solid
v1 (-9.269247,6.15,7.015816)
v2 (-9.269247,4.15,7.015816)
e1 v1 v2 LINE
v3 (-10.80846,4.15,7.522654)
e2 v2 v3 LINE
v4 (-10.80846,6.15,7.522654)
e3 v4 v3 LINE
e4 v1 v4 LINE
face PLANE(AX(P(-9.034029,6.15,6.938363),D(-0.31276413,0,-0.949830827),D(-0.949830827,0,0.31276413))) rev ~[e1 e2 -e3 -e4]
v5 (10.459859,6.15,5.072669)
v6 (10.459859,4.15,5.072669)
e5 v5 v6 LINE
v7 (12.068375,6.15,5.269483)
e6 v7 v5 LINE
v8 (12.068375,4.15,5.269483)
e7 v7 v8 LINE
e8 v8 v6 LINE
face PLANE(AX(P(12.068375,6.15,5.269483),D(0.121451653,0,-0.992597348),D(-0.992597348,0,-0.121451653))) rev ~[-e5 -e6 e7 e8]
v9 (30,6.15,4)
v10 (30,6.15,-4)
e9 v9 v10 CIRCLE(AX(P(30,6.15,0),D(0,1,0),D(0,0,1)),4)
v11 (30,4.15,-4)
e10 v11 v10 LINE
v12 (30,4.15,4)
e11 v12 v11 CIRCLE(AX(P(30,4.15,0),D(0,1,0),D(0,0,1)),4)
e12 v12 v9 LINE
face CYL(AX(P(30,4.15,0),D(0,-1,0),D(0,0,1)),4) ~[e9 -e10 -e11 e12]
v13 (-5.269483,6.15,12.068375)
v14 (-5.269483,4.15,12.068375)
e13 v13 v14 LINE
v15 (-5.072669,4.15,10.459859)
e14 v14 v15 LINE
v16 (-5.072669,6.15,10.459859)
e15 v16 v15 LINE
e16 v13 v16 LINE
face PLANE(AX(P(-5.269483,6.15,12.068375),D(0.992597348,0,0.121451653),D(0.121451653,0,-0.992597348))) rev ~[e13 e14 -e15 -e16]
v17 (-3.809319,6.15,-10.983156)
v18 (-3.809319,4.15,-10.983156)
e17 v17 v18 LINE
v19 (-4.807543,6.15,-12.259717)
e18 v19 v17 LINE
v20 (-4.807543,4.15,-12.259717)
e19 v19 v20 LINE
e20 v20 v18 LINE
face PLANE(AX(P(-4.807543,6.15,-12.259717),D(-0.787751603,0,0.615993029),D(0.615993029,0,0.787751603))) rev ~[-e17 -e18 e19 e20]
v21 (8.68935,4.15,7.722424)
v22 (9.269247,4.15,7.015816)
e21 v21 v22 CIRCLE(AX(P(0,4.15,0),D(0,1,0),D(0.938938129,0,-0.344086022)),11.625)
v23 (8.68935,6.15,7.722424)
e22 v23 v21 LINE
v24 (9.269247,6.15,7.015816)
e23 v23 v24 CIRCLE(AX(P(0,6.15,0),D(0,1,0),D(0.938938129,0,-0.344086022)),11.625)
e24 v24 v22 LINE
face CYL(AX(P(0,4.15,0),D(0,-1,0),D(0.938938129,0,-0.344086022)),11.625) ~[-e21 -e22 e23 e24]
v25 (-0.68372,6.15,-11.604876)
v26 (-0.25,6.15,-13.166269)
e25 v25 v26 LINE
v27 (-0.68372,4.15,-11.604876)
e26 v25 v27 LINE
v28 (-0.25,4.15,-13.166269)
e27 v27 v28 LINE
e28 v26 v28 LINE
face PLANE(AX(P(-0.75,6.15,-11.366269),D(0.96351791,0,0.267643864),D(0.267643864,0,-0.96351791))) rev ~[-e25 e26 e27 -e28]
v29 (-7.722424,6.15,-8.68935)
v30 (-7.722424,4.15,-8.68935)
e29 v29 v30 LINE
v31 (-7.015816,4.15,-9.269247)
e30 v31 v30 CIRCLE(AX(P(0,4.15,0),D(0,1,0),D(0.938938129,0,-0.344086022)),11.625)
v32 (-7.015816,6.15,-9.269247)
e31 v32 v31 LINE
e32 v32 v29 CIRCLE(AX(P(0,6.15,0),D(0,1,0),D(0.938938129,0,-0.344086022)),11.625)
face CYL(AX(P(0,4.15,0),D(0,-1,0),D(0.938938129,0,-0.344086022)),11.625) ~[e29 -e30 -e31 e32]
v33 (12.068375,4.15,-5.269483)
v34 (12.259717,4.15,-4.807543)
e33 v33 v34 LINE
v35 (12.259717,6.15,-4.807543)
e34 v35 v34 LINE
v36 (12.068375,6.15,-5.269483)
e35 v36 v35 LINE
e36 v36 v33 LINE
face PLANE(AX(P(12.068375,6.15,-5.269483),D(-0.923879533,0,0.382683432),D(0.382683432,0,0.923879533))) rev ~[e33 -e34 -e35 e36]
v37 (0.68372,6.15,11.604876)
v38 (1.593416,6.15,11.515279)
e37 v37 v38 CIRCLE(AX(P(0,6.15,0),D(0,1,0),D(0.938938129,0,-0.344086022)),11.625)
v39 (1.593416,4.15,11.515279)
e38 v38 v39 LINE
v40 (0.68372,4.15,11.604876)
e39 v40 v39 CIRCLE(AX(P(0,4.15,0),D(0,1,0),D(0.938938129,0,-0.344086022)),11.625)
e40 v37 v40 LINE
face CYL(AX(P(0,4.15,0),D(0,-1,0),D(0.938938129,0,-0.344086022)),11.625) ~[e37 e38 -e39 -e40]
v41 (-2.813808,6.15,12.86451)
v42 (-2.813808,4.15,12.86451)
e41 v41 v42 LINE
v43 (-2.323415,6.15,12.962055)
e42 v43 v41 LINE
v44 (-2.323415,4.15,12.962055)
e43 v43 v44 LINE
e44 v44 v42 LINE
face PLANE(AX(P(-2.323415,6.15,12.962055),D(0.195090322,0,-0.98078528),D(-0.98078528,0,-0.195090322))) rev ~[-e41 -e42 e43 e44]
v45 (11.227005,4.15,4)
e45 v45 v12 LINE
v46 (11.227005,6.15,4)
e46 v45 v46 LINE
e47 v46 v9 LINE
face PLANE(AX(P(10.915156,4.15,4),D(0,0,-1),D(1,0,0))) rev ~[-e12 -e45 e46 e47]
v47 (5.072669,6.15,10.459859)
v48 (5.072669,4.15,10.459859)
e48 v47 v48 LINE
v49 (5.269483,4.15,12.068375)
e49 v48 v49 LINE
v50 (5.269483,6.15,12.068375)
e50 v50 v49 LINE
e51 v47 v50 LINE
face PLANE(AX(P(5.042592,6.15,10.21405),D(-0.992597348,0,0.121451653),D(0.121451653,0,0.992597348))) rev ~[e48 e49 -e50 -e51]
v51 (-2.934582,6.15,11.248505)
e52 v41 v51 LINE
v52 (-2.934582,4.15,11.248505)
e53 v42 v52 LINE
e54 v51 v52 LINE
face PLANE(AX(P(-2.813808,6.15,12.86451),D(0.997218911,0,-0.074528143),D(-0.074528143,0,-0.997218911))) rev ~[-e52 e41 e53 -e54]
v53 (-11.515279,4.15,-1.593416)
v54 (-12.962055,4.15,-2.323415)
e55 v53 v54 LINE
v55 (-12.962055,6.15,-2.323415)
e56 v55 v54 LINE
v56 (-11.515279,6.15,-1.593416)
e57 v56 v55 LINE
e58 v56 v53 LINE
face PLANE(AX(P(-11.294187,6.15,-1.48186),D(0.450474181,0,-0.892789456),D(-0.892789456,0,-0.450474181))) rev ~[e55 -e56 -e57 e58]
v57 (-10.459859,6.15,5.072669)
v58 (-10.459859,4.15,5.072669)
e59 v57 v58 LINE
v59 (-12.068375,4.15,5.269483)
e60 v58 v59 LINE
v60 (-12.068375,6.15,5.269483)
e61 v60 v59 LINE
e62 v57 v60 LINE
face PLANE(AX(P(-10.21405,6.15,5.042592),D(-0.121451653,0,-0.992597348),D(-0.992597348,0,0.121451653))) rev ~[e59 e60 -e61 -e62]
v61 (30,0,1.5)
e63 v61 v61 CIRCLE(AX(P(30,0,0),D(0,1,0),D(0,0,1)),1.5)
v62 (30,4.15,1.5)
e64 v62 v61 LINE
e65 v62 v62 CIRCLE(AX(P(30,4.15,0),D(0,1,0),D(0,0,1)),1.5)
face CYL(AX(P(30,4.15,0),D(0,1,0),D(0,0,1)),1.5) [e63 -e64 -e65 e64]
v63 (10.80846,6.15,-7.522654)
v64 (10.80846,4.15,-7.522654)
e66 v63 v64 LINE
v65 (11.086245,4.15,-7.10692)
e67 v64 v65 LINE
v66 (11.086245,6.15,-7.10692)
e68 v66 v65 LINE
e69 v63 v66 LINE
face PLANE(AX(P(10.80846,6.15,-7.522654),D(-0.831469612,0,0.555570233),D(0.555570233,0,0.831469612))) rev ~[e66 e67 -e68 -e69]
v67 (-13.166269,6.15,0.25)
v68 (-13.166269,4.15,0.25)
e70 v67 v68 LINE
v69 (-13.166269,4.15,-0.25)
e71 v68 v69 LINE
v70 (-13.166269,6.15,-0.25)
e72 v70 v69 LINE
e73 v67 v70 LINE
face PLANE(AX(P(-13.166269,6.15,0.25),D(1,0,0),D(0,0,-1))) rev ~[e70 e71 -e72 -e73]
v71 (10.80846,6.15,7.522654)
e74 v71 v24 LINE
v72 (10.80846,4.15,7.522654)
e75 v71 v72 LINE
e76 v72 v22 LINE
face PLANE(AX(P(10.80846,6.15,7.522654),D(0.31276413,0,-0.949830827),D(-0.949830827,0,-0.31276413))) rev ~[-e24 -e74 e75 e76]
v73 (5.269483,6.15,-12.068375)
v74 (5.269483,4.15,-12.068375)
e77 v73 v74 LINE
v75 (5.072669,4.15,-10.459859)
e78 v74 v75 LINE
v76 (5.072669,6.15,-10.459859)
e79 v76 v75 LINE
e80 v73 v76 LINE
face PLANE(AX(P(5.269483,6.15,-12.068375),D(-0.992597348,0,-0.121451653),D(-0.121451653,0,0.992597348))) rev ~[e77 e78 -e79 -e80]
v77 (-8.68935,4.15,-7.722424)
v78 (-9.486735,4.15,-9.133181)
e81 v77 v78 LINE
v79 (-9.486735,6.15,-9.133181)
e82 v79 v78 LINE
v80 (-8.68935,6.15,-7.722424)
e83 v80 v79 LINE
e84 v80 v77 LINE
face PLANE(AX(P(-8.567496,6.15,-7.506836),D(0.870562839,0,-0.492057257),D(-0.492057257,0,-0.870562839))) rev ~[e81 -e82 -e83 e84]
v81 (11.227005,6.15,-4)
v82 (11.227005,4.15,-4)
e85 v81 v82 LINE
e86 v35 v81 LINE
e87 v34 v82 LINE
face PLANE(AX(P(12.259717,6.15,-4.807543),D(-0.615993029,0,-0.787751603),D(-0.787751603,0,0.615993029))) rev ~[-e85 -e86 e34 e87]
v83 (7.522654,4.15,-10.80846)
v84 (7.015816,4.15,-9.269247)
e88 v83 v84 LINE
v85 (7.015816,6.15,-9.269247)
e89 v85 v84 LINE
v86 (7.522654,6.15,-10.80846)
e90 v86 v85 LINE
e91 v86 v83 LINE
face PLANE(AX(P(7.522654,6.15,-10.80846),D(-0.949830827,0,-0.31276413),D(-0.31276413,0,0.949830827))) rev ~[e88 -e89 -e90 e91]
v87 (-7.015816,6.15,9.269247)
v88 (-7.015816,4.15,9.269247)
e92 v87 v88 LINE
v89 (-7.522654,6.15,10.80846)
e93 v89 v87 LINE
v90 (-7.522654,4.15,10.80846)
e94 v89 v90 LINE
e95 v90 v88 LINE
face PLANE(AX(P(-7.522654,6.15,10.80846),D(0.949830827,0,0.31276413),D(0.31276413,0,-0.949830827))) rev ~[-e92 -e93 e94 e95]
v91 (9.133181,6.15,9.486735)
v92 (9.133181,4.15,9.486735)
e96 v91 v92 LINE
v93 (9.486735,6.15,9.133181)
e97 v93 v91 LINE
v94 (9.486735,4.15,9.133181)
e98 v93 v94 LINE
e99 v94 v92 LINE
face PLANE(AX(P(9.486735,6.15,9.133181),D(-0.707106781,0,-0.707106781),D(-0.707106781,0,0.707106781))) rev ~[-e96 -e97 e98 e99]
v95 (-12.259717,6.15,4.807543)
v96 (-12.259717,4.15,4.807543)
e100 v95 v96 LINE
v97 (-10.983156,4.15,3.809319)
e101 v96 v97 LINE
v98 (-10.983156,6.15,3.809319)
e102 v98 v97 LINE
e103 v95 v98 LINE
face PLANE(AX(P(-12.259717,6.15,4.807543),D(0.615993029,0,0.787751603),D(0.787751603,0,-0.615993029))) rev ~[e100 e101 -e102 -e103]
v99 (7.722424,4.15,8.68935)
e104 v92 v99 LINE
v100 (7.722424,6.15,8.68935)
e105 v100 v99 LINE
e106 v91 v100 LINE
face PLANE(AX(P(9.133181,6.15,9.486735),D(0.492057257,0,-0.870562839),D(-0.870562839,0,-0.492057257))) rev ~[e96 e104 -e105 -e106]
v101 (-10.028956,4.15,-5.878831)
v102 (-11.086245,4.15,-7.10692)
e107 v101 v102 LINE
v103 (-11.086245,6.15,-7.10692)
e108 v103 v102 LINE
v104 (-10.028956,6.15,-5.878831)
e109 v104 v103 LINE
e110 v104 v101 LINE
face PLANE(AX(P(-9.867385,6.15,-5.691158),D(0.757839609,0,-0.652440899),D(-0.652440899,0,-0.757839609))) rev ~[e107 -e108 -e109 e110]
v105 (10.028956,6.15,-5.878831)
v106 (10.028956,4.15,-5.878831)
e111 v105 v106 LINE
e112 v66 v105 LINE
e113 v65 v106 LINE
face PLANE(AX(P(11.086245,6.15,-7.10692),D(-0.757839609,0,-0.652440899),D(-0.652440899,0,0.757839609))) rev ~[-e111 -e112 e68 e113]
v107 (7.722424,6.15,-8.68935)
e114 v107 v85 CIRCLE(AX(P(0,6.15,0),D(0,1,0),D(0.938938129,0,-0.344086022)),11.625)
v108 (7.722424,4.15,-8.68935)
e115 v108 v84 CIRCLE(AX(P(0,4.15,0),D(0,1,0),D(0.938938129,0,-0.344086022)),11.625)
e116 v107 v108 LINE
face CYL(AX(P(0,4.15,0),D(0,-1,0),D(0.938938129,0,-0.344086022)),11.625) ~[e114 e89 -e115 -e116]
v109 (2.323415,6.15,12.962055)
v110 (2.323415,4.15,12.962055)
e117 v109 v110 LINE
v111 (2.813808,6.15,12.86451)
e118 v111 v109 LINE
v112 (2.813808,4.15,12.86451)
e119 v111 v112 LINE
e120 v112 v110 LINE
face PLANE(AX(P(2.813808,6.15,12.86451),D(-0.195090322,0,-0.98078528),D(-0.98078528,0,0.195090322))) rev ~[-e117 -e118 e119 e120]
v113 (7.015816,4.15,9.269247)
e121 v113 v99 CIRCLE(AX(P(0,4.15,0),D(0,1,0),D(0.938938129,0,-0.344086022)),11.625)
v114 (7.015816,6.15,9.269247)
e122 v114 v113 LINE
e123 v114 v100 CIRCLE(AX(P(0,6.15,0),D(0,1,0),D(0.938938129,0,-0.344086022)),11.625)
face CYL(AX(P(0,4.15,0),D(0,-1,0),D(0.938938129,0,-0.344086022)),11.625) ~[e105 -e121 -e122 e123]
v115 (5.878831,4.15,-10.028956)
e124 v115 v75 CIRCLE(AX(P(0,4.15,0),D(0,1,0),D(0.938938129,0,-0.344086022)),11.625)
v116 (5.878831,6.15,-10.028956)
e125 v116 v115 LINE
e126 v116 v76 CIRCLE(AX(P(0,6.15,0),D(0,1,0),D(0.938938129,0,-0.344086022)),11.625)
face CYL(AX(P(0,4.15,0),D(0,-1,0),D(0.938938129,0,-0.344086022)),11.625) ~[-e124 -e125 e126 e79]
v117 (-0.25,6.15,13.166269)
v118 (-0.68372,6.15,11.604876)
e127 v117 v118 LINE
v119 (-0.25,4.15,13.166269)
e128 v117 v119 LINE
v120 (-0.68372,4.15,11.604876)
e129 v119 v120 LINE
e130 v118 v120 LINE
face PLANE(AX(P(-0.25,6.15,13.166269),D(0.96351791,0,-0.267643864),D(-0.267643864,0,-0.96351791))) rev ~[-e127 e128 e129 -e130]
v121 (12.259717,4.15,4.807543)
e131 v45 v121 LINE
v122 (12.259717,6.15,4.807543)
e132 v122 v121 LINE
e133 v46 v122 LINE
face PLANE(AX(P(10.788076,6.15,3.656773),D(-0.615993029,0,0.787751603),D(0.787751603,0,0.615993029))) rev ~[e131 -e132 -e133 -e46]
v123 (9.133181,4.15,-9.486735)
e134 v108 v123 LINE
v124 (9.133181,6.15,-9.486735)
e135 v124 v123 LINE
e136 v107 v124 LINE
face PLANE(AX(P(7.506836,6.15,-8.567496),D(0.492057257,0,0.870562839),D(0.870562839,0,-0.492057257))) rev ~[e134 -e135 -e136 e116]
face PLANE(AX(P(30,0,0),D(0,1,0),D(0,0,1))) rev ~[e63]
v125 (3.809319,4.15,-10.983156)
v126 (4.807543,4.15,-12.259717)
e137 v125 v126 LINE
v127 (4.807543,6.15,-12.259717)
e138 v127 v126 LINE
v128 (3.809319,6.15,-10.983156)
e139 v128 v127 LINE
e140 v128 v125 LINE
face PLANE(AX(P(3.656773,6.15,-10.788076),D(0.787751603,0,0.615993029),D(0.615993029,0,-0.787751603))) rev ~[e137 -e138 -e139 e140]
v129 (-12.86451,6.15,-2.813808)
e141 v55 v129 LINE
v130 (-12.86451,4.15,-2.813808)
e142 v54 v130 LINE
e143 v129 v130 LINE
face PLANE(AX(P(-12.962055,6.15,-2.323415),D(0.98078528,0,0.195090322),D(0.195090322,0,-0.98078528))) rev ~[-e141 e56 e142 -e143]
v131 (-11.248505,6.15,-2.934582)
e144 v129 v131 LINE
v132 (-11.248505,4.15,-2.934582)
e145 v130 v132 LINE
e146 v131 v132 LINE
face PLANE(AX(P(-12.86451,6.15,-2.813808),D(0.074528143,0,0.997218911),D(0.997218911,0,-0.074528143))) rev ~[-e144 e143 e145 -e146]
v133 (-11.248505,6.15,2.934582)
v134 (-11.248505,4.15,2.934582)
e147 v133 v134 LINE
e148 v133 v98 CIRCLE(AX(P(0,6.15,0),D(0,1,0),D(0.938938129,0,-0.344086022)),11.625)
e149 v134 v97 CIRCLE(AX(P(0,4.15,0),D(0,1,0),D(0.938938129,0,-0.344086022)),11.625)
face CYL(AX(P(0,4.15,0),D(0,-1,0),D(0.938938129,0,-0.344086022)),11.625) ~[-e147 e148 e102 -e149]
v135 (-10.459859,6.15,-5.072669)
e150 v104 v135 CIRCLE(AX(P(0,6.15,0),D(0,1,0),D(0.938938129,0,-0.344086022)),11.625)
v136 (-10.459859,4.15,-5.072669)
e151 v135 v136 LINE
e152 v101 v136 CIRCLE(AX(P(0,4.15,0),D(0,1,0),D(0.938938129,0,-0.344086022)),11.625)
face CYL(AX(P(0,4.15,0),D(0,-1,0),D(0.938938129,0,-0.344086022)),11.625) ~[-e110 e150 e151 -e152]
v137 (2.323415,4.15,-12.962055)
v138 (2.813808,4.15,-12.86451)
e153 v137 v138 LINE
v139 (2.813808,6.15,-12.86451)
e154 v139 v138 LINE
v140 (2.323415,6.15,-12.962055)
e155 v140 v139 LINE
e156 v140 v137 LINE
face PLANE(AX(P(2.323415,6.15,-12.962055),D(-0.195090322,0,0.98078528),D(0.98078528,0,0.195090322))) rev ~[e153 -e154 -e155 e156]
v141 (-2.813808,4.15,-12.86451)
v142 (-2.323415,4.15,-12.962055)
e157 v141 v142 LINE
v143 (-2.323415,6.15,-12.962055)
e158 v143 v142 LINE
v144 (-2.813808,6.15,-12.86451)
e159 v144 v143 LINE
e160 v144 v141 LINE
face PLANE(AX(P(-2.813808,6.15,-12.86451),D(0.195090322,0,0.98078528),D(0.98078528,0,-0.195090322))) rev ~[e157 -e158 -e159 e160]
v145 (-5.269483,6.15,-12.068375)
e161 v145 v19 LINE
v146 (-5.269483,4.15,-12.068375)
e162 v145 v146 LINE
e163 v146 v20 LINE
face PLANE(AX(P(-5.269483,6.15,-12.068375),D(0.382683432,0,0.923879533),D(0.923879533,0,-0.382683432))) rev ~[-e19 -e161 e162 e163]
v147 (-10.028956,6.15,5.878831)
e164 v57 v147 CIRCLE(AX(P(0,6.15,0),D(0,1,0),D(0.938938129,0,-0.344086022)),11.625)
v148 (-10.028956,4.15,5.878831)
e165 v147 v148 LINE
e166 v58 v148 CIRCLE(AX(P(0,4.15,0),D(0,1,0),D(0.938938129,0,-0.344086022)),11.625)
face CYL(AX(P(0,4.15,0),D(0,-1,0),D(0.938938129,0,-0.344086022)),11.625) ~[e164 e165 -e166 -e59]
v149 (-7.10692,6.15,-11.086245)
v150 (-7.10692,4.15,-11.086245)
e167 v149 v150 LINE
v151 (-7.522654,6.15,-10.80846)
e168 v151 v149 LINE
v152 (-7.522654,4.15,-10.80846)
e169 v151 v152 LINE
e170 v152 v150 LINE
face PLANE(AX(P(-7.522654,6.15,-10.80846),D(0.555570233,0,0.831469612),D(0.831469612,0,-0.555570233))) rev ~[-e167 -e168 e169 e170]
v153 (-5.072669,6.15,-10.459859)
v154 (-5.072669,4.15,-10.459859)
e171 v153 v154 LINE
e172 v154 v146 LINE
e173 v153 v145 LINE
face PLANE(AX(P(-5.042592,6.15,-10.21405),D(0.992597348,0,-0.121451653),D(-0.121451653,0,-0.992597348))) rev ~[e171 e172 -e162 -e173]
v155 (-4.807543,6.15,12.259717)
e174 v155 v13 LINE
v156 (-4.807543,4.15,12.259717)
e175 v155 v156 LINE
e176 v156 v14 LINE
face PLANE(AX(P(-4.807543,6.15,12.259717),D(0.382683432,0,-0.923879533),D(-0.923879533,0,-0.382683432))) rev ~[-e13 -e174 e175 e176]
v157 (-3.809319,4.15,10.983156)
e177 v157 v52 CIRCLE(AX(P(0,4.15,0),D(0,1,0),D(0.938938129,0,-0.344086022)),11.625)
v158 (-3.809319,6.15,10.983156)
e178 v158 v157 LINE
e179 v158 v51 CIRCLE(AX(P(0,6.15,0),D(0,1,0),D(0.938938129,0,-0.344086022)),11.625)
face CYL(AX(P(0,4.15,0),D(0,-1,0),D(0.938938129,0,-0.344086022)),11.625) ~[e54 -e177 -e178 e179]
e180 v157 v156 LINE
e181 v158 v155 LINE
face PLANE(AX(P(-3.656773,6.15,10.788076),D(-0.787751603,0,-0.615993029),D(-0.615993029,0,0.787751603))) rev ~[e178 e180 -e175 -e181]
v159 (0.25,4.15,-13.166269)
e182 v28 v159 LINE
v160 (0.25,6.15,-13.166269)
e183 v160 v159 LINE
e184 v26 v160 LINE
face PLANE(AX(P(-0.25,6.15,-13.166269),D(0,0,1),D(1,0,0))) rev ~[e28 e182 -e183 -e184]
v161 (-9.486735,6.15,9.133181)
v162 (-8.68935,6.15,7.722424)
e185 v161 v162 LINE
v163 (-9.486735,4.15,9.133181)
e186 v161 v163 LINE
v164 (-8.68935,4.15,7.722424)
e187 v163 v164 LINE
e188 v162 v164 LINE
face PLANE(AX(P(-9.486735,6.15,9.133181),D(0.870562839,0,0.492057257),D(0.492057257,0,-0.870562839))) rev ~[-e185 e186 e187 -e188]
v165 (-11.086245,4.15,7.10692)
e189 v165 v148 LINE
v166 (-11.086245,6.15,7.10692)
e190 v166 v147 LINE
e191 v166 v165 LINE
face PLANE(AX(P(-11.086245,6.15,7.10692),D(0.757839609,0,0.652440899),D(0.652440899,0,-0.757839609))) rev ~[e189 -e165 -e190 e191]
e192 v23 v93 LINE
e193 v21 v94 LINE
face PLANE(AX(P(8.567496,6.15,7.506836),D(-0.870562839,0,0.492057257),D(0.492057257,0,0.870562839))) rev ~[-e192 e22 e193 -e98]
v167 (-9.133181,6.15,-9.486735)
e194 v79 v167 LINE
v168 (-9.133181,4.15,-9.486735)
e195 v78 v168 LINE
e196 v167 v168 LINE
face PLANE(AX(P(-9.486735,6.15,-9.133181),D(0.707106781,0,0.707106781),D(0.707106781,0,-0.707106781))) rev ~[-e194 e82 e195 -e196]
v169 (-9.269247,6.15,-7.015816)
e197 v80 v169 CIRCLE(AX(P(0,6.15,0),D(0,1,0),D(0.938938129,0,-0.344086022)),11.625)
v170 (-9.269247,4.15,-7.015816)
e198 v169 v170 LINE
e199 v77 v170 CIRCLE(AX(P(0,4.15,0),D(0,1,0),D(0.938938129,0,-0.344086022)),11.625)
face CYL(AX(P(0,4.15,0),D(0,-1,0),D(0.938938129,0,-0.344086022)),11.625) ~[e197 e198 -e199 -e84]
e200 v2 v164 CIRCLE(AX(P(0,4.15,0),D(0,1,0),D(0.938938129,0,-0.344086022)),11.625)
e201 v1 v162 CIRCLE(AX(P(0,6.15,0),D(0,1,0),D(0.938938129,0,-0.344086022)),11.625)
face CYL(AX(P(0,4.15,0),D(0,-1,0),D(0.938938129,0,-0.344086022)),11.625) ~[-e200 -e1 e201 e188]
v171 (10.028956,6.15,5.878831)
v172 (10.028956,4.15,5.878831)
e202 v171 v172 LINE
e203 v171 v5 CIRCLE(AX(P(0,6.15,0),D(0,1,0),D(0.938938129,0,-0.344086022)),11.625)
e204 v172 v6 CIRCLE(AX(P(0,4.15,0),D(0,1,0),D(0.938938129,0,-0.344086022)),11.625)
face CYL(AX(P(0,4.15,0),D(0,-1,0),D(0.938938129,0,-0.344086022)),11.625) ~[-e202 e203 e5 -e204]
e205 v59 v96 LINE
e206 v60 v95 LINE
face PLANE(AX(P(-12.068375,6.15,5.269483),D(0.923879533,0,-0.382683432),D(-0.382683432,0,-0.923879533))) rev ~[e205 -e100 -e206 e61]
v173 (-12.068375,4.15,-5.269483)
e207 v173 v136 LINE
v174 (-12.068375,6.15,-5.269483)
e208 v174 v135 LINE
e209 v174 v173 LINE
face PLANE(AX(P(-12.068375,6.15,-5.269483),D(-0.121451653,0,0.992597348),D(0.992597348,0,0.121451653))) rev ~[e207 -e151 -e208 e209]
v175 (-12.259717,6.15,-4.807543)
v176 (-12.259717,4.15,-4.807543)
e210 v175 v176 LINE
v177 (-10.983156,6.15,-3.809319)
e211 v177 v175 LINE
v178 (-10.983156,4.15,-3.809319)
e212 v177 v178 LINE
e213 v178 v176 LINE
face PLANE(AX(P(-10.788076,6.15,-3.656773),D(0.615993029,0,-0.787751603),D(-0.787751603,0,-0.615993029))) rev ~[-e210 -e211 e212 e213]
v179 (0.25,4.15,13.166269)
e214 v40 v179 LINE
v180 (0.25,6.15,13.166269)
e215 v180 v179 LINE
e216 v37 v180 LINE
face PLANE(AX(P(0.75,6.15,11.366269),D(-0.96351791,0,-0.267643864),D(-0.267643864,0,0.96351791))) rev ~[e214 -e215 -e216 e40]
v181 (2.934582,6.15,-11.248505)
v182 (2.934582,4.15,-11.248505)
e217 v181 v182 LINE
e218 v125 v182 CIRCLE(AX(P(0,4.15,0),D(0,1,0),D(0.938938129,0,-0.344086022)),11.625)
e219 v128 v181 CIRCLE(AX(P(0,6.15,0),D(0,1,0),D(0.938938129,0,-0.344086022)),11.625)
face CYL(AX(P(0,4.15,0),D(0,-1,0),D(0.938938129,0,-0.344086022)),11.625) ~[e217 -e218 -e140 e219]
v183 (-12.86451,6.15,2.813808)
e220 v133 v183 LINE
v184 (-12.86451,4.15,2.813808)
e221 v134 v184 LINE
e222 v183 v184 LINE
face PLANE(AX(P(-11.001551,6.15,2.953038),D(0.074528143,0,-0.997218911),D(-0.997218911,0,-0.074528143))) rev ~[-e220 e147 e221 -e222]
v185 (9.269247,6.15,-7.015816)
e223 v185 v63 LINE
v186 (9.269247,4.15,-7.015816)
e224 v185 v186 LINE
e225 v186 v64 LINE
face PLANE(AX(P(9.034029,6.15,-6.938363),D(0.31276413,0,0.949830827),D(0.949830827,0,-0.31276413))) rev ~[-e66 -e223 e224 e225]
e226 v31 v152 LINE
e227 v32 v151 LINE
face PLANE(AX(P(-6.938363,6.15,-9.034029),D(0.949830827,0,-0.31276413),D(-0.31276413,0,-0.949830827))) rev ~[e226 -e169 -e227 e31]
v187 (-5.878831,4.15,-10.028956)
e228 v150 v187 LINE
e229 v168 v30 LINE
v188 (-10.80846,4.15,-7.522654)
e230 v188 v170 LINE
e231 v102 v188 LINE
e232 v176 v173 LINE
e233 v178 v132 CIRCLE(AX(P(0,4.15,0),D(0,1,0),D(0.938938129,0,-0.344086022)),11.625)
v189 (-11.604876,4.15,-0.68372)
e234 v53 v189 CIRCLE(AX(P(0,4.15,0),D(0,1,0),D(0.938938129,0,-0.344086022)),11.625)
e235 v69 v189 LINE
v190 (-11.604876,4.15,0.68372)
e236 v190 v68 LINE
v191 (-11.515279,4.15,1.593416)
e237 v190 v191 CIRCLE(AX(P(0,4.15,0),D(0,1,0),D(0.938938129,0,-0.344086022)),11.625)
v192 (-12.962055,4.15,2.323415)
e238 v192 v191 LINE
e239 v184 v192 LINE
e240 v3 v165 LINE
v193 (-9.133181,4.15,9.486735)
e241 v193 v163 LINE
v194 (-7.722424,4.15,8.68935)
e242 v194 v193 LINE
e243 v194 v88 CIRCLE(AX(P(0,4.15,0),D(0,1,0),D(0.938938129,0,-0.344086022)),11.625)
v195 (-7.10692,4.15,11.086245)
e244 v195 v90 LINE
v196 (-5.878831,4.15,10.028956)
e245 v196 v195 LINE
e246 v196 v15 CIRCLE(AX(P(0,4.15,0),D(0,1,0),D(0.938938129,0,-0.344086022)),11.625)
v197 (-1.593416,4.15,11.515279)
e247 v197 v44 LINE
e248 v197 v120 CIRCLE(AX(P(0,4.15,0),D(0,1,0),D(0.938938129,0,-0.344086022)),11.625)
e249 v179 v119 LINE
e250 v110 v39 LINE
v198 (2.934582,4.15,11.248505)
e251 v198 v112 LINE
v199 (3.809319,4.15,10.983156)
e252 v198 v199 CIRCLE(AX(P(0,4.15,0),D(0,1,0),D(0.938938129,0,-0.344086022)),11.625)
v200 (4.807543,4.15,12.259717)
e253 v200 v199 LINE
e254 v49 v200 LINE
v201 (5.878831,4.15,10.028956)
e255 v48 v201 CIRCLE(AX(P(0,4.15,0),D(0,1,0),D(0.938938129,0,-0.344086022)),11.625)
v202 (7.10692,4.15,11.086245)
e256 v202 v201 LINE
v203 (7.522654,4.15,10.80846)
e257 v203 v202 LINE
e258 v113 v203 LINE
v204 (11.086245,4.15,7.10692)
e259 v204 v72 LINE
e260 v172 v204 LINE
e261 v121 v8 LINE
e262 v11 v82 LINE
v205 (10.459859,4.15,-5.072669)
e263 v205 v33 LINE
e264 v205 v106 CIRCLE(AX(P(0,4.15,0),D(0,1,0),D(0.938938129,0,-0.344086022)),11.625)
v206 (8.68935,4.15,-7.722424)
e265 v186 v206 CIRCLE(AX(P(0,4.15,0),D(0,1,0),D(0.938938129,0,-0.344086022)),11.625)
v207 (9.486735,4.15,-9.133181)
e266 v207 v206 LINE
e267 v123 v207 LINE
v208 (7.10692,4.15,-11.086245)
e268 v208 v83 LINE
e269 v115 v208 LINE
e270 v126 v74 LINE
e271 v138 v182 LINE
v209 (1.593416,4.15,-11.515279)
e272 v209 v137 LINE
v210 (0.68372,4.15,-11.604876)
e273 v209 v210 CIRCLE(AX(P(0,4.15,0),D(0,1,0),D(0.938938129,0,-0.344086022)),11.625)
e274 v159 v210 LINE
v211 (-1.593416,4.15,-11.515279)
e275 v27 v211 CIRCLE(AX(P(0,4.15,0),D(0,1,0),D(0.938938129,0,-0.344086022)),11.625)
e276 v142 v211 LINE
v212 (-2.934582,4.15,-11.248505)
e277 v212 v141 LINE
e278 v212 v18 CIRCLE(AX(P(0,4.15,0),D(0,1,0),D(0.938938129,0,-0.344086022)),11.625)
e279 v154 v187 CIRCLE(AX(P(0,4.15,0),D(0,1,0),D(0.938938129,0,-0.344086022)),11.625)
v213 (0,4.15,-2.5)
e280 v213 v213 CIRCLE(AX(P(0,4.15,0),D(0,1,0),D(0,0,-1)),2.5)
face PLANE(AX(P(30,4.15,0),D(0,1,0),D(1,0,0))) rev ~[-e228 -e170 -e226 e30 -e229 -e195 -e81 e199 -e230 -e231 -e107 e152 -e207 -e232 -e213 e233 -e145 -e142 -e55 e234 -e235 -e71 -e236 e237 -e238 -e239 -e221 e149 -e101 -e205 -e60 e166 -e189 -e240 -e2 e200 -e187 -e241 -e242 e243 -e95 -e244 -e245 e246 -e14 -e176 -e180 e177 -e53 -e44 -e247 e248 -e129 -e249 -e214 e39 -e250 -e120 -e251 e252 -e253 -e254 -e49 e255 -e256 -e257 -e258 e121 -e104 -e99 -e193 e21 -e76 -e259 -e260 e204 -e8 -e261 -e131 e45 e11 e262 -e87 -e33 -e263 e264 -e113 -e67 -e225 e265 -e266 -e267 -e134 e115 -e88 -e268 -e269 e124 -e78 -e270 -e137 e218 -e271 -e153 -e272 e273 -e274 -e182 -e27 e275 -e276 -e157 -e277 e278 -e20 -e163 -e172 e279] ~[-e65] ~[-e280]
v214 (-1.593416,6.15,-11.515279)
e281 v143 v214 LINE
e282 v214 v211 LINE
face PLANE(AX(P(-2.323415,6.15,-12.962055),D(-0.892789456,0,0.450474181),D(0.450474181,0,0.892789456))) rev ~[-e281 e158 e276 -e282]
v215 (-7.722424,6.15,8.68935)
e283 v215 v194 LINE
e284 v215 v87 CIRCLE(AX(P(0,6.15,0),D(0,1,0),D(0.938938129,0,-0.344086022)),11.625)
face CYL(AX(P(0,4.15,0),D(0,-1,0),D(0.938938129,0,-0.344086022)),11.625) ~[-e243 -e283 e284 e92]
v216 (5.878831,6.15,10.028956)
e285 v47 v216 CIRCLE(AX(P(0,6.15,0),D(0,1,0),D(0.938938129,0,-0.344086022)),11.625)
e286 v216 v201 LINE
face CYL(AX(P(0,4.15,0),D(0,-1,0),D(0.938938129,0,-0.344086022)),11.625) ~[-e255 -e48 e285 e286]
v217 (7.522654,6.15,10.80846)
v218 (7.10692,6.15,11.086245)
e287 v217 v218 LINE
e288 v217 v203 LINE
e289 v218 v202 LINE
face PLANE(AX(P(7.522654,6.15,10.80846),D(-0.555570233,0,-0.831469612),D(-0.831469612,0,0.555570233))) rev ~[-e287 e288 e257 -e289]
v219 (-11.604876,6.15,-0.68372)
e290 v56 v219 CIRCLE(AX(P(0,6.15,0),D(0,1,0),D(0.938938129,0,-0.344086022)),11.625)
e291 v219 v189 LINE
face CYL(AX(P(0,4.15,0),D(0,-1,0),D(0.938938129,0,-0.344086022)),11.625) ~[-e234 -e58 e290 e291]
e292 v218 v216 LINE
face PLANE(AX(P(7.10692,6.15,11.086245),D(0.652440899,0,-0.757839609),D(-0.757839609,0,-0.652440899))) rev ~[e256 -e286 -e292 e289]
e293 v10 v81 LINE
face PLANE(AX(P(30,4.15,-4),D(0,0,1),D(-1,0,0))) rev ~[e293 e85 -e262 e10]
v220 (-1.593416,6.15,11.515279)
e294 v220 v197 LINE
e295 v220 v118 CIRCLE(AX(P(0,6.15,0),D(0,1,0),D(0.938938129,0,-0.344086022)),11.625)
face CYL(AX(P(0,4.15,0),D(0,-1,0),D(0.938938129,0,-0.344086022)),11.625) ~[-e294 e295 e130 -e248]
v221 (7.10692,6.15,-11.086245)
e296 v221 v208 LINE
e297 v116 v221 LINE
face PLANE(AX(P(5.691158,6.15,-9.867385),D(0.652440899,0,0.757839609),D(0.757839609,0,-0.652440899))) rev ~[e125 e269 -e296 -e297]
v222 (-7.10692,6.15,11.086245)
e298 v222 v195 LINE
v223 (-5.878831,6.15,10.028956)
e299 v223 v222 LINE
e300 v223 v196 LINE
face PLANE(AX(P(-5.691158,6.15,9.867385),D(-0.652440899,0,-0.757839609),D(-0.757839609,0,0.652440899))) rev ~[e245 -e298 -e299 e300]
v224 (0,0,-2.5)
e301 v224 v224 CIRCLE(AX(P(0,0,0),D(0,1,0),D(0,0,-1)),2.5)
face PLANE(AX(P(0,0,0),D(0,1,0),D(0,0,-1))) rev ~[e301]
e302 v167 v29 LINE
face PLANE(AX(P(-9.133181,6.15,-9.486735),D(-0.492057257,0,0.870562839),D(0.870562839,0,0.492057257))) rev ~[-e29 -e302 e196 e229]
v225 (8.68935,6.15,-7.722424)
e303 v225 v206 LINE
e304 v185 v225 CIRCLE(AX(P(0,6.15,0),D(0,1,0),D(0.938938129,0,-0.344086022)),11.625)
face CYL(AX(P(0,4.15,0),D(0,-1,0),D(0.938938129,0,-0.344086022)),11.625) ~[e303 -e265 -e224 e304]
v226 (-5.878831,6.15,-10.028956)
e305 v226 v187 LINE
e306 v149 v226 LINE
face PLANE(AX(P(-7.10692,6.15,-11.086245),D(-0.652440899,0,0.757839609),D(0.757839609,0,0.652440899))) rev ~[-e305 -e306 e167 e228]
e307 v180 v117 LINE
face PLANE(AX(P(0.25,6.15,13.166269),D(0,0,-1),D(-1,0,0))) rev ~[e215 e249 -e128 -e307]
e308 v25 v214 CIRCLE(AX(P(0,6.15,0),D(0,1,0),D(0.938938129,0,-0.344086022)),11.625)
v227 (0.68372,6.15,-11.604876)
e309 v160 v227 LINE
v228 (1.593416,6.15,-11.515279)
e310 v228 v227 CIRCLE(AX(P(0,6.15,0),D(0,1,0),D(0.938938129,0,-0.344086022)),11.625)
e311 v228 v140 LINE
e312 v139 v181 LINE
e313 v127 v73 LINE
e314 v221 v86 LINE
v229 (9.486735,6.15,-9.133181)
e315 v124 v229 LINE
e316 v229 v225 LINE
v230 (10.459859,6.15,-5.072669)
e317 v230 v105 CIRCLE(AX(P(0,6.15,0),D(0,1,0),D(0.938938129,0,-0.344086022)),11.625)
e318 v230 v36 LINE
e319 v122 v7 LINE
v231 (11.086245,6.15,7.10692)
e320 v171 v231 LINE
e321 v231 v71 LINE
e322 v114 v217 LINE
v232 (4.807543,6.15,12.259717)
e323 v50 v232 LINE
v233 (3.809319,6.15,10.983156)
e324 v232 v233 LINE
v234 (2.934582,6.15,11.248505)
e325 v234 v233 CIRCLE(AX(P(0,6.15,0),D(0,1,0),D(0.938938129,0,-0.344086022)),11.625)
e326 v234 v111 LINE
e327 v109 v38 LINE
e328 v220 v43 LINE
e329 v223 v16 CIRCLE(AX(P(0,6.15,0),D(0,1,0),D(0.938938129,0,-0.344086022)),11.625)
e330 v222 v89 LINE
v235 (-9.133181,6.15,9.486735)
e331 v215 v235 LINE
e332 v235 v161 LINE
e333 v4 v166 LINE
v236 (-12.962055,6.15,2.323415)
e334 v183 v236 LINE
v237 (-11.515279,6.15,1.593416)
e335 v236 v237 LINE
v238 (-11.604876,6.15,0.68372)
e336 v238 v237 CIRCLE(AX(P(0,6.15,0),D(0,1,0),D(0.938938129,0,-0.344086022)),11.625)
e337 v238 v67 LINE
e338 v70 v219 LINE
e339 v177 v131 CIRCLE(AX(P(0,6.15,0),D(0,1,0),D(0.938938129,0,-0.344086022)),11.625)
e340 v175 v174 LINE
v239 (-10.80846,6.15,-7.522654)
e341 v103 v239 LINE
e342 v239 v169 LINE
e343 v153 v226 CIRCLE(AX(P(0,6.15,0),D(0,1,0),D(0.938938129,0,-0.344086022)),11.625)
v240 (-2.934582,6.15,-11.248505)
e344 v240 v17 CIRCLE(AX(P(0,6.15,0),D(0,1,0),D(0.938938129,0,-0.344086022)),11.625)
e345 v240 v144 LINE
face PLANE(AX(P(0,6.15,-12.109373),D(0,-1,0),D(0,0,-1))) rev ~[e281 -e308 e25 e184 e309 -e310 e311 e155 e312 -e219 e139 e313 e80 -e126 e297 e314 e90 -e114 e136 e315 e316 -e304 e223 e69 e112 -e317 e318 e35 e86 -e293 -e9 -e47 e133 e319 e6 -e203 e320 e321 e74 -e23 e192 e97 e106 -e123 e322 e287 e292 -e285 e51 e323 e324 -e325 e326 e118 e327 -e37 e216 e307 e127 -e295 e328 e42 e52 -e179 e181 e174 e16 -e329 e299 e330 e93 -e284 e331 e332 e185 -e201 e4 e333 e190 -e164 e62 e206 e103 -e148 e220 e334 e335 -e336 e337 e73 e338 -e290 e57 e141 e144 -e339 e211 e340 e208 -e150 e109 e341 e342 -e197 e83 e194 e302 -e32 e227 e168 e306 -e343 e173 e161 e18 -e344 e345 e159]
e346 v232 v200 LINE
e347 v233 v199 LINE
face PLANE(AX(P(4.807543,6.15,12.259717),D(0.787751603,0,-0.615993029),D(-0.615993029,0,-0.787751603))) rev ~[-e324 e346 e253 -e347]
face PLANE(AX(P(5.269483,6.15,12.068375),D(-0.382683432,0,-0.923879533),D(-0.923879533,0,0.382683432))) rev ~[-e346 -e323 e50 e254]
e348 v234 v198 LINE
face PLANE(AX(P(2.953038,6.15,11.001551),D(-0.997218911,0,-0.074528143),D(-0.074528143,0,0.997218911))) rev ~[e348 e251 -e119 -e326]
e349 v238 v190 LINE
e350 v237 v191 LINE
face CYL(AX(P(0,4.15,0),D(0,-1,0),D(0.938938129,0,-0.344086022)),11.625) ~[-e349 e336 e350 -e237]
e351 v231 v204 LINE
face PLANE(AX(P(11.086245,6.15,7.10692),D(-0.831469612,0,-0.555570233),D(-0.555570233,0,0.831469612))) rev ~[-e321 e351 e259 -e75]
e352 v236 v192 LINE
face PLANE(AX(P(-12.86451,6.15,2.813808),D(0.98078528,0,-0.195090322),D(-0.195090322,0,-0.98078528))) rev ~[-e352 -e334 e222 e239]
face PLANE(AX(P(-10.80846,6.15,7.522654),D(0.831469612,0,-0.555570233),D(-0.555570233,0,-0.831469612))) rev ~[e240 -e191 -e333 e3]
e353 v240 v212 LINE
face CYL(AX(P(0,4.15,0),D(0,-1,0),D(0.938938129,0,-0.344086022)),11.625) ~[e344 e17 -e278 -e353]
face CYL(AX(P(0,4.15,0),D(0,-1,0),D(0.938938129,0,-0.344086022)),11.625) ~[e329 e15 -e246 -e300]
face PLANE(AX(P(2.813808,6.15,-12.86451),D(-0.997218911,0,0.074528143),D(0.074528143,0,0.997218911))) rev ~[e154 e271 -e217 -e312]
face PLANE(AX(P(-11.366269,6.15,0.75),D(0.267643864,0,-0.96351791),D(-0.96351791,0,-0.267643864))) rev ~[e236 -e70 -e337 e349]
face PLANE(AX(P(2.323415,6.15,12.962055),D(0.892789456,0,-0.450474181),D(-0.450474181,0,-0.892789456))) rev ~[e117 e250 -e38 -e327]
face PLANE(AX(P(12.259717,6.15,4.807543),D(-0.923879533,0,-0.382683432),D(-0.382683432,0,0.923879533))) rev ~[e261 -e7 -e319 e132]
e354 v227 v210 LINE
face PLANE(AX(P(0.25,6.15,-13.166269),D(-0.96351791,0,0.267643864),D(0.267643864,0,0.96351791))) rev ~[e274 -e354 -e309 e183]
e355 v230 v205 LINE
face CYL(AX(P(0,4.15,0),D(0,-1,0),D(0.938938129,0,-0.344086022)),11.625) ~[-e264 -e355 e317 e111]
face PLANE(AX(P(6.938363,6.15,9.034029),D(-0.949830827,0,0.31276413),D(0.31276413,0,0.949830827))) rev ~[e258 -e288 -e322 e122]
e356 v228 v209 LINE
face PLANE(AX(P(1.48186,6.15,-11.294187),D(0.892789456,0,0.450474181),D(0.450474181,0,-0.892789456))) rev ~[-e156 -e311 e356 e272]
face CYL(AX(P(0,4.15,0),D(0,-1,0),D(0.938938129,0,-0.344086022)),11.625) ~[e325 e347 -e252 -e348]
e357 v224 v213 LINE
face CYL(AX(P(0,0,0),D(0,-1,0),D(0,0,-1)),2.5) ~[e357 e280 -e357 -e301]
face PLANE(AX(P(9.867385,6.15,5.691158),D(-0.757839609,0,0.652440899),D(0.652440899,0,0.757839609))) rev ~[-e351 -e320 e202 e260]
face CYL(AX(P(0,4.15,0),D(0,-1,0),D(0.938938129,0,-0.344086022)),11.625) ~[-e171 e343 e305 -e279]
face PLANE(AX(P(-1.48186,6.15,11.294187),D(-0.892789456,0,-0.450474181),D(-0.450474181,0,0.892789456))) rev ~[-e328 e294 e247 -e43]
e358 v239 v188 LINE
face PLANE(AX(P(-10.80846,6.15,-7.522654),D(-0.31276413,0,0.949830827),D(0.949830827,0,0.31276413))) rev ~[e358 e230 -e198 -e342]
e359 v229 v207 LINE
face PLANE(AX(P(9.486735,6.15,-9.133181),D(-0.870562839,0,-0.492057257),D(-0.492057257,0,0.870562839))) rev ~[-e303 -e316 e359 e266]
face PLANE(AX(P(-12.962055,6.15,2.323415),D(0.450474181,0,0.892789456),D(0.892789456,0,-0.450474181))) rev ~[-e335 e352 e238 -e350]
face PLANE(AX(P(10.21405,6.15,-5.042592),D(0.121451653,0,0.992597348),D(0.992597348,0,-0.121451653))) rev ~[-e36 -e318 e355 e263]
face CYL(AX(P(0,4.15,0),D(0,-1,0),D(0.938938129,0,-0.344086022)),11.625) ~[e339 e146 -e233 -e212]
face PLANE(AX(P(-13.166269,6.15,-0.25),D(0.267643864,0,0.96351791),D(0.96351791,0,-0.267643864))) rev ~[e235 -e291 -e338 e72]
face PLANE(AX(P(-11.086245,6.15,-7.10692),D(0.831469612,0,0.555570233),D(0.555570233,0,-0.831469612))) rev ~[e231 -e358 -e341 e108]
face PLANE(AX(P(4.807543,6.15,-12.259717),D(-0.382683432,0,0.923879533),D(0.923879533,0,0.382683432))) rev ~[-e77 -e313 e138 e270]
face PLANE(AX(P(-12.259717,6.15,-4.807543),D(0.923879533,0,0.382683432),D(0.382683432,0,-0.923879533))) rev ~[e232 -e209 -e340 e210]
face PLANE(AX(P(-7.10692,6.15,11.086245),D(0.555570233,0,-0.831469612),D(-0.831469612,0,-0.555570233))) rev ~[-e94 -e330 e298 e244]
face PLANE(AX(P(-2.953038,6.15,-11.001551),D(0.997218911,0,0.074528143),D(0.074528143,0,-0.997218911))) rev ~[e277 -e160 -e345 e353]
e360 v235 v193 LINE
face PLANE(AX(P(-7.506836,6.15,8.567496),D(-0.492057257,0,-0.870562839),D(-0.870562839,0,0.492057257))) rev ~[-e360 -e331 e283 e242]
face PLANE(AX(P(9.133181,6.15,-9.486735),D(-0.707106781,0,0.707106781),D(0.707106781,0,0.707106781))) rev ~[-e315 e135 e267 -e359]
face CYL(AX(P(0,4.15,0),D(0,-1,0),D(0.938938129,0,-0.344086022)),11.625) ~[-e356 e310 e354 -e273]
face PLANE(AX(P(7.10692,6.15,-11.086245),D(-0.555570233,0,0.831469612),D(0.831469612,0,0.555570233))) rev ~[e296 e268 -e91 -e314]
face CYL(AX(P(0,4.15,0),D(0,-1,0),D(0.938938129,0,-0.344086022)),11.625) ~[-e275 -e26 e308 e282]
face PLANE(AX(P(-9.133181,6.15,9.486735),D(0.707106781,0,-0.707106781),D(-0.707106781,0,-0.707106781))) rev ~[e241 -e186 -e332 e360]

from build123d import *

# Parameters (mm, degrees)
SKETCH3_R           = 2.5
BOSS_EXTRUDE1_DEPTH = 4.15
SKETCH4_R           = 1.5
BOSS_EXTRUDE2_DEPTH = 2
SKETCH4_3_R         = 1.5
BOSS_EXTRUDE3_DEPTH = 2
SKETCH4_5_R         = 1.5
BOSS_EXTRUDE4_DEPTH = 4.15
BOSS_EXTRUDE5_DEPTH = 2
CIRPATTERN1_COUNT   = 32


with BuildPart() as part:
    # Sketch3 → Boss-Extrude1 (new body)
    with BuildSketch(Plane(origin=(0, 0, 0), x_dir=(1, 0, 0), z_dir=(0, 1, 0))):
        with Locations(Location((0, 0, 0), (0, 0, 90))):
            Circle(SKETCH3_R)
    extrude(amount=BOSS_EXTRUDE1_DEPTH)

    # Sketch4 → Boss-Extrude2 (add)
    with BuildSketch(Plane(origin=(0, 4.15, 0), x_dir=(1, 0, 0), z_dir=(0, 1, 0))):
        with BuildLine():
            Line((30, 4), (10.915155748, 4))
            ThreePointArc((10.915155748, 4), (-11.625, 0), (10.915155748, -4))
            Line((10.915155748, -4), (30, -4))
            ThreePointArc((30, -4), (34, 0), (30, 4))
        make_face()
        with Locations(Location((30, 0, 0), (0, 0, 270))):
            Circle(SKETCH4_R, mode=Mode.SUBTRACT)
    extrude(amount=BOSS_EXTRUDE2_DEPTH)

    # Sketch4<3> → Boss-Extrude3 (add)
    with BuildSketch(Plane(origin=(0, 4.15, 0), x_dir=(1, 0, 0), z_dir=(0, 1, 0))):
        with Locations((30, 0)):
            Circle(SKETCH4_3_R)
    extrude(amount=BOSS_EXTRUDE3_DEPTH)

    # Sketch4<5> → Boss-Extrude4 (add)
    with BuildSketch(Plane(origin=(0, 4.15, 0), x_dir=(1, 0, 0), z_dir=(0, 1, 0))):
        with Locations(Location((30, 0, 0), (0, 0, 270))):
            Circle(SKETCH4_5_R)
    extrude(amount=-BOSS_EXTRUDE4_DEPTH)

    # Sketch7 → Boss-Extrude5 (add)
    with BuildSketch(Plane(origin=(0, 6.15, 0), x_dir=(1, 0, 0), z_dir=(0, 1, 0))):
        Polygon((-11.366268694, 0.75), (-11.366268694, -0.75), (-13.166268694, -0.25), (-13.166268694, 0.25), align=None)
    boss_extrude5 = extrude(amount=-BOSS_EXTRUDE5_DEPTH)

    # CirPattern1: Boss-Extrude5 ×32 about axis
    cirpattern1_axis = Axis((0, 0, 0), (0, 1, 0))
    for i in range(1, CIRPATTERN1_COUNT):
        add(boss_extrude5.rotate(cirpattern1_axis, i * 360 / CIRPATTERN1_COUNT))


solid = part.part
